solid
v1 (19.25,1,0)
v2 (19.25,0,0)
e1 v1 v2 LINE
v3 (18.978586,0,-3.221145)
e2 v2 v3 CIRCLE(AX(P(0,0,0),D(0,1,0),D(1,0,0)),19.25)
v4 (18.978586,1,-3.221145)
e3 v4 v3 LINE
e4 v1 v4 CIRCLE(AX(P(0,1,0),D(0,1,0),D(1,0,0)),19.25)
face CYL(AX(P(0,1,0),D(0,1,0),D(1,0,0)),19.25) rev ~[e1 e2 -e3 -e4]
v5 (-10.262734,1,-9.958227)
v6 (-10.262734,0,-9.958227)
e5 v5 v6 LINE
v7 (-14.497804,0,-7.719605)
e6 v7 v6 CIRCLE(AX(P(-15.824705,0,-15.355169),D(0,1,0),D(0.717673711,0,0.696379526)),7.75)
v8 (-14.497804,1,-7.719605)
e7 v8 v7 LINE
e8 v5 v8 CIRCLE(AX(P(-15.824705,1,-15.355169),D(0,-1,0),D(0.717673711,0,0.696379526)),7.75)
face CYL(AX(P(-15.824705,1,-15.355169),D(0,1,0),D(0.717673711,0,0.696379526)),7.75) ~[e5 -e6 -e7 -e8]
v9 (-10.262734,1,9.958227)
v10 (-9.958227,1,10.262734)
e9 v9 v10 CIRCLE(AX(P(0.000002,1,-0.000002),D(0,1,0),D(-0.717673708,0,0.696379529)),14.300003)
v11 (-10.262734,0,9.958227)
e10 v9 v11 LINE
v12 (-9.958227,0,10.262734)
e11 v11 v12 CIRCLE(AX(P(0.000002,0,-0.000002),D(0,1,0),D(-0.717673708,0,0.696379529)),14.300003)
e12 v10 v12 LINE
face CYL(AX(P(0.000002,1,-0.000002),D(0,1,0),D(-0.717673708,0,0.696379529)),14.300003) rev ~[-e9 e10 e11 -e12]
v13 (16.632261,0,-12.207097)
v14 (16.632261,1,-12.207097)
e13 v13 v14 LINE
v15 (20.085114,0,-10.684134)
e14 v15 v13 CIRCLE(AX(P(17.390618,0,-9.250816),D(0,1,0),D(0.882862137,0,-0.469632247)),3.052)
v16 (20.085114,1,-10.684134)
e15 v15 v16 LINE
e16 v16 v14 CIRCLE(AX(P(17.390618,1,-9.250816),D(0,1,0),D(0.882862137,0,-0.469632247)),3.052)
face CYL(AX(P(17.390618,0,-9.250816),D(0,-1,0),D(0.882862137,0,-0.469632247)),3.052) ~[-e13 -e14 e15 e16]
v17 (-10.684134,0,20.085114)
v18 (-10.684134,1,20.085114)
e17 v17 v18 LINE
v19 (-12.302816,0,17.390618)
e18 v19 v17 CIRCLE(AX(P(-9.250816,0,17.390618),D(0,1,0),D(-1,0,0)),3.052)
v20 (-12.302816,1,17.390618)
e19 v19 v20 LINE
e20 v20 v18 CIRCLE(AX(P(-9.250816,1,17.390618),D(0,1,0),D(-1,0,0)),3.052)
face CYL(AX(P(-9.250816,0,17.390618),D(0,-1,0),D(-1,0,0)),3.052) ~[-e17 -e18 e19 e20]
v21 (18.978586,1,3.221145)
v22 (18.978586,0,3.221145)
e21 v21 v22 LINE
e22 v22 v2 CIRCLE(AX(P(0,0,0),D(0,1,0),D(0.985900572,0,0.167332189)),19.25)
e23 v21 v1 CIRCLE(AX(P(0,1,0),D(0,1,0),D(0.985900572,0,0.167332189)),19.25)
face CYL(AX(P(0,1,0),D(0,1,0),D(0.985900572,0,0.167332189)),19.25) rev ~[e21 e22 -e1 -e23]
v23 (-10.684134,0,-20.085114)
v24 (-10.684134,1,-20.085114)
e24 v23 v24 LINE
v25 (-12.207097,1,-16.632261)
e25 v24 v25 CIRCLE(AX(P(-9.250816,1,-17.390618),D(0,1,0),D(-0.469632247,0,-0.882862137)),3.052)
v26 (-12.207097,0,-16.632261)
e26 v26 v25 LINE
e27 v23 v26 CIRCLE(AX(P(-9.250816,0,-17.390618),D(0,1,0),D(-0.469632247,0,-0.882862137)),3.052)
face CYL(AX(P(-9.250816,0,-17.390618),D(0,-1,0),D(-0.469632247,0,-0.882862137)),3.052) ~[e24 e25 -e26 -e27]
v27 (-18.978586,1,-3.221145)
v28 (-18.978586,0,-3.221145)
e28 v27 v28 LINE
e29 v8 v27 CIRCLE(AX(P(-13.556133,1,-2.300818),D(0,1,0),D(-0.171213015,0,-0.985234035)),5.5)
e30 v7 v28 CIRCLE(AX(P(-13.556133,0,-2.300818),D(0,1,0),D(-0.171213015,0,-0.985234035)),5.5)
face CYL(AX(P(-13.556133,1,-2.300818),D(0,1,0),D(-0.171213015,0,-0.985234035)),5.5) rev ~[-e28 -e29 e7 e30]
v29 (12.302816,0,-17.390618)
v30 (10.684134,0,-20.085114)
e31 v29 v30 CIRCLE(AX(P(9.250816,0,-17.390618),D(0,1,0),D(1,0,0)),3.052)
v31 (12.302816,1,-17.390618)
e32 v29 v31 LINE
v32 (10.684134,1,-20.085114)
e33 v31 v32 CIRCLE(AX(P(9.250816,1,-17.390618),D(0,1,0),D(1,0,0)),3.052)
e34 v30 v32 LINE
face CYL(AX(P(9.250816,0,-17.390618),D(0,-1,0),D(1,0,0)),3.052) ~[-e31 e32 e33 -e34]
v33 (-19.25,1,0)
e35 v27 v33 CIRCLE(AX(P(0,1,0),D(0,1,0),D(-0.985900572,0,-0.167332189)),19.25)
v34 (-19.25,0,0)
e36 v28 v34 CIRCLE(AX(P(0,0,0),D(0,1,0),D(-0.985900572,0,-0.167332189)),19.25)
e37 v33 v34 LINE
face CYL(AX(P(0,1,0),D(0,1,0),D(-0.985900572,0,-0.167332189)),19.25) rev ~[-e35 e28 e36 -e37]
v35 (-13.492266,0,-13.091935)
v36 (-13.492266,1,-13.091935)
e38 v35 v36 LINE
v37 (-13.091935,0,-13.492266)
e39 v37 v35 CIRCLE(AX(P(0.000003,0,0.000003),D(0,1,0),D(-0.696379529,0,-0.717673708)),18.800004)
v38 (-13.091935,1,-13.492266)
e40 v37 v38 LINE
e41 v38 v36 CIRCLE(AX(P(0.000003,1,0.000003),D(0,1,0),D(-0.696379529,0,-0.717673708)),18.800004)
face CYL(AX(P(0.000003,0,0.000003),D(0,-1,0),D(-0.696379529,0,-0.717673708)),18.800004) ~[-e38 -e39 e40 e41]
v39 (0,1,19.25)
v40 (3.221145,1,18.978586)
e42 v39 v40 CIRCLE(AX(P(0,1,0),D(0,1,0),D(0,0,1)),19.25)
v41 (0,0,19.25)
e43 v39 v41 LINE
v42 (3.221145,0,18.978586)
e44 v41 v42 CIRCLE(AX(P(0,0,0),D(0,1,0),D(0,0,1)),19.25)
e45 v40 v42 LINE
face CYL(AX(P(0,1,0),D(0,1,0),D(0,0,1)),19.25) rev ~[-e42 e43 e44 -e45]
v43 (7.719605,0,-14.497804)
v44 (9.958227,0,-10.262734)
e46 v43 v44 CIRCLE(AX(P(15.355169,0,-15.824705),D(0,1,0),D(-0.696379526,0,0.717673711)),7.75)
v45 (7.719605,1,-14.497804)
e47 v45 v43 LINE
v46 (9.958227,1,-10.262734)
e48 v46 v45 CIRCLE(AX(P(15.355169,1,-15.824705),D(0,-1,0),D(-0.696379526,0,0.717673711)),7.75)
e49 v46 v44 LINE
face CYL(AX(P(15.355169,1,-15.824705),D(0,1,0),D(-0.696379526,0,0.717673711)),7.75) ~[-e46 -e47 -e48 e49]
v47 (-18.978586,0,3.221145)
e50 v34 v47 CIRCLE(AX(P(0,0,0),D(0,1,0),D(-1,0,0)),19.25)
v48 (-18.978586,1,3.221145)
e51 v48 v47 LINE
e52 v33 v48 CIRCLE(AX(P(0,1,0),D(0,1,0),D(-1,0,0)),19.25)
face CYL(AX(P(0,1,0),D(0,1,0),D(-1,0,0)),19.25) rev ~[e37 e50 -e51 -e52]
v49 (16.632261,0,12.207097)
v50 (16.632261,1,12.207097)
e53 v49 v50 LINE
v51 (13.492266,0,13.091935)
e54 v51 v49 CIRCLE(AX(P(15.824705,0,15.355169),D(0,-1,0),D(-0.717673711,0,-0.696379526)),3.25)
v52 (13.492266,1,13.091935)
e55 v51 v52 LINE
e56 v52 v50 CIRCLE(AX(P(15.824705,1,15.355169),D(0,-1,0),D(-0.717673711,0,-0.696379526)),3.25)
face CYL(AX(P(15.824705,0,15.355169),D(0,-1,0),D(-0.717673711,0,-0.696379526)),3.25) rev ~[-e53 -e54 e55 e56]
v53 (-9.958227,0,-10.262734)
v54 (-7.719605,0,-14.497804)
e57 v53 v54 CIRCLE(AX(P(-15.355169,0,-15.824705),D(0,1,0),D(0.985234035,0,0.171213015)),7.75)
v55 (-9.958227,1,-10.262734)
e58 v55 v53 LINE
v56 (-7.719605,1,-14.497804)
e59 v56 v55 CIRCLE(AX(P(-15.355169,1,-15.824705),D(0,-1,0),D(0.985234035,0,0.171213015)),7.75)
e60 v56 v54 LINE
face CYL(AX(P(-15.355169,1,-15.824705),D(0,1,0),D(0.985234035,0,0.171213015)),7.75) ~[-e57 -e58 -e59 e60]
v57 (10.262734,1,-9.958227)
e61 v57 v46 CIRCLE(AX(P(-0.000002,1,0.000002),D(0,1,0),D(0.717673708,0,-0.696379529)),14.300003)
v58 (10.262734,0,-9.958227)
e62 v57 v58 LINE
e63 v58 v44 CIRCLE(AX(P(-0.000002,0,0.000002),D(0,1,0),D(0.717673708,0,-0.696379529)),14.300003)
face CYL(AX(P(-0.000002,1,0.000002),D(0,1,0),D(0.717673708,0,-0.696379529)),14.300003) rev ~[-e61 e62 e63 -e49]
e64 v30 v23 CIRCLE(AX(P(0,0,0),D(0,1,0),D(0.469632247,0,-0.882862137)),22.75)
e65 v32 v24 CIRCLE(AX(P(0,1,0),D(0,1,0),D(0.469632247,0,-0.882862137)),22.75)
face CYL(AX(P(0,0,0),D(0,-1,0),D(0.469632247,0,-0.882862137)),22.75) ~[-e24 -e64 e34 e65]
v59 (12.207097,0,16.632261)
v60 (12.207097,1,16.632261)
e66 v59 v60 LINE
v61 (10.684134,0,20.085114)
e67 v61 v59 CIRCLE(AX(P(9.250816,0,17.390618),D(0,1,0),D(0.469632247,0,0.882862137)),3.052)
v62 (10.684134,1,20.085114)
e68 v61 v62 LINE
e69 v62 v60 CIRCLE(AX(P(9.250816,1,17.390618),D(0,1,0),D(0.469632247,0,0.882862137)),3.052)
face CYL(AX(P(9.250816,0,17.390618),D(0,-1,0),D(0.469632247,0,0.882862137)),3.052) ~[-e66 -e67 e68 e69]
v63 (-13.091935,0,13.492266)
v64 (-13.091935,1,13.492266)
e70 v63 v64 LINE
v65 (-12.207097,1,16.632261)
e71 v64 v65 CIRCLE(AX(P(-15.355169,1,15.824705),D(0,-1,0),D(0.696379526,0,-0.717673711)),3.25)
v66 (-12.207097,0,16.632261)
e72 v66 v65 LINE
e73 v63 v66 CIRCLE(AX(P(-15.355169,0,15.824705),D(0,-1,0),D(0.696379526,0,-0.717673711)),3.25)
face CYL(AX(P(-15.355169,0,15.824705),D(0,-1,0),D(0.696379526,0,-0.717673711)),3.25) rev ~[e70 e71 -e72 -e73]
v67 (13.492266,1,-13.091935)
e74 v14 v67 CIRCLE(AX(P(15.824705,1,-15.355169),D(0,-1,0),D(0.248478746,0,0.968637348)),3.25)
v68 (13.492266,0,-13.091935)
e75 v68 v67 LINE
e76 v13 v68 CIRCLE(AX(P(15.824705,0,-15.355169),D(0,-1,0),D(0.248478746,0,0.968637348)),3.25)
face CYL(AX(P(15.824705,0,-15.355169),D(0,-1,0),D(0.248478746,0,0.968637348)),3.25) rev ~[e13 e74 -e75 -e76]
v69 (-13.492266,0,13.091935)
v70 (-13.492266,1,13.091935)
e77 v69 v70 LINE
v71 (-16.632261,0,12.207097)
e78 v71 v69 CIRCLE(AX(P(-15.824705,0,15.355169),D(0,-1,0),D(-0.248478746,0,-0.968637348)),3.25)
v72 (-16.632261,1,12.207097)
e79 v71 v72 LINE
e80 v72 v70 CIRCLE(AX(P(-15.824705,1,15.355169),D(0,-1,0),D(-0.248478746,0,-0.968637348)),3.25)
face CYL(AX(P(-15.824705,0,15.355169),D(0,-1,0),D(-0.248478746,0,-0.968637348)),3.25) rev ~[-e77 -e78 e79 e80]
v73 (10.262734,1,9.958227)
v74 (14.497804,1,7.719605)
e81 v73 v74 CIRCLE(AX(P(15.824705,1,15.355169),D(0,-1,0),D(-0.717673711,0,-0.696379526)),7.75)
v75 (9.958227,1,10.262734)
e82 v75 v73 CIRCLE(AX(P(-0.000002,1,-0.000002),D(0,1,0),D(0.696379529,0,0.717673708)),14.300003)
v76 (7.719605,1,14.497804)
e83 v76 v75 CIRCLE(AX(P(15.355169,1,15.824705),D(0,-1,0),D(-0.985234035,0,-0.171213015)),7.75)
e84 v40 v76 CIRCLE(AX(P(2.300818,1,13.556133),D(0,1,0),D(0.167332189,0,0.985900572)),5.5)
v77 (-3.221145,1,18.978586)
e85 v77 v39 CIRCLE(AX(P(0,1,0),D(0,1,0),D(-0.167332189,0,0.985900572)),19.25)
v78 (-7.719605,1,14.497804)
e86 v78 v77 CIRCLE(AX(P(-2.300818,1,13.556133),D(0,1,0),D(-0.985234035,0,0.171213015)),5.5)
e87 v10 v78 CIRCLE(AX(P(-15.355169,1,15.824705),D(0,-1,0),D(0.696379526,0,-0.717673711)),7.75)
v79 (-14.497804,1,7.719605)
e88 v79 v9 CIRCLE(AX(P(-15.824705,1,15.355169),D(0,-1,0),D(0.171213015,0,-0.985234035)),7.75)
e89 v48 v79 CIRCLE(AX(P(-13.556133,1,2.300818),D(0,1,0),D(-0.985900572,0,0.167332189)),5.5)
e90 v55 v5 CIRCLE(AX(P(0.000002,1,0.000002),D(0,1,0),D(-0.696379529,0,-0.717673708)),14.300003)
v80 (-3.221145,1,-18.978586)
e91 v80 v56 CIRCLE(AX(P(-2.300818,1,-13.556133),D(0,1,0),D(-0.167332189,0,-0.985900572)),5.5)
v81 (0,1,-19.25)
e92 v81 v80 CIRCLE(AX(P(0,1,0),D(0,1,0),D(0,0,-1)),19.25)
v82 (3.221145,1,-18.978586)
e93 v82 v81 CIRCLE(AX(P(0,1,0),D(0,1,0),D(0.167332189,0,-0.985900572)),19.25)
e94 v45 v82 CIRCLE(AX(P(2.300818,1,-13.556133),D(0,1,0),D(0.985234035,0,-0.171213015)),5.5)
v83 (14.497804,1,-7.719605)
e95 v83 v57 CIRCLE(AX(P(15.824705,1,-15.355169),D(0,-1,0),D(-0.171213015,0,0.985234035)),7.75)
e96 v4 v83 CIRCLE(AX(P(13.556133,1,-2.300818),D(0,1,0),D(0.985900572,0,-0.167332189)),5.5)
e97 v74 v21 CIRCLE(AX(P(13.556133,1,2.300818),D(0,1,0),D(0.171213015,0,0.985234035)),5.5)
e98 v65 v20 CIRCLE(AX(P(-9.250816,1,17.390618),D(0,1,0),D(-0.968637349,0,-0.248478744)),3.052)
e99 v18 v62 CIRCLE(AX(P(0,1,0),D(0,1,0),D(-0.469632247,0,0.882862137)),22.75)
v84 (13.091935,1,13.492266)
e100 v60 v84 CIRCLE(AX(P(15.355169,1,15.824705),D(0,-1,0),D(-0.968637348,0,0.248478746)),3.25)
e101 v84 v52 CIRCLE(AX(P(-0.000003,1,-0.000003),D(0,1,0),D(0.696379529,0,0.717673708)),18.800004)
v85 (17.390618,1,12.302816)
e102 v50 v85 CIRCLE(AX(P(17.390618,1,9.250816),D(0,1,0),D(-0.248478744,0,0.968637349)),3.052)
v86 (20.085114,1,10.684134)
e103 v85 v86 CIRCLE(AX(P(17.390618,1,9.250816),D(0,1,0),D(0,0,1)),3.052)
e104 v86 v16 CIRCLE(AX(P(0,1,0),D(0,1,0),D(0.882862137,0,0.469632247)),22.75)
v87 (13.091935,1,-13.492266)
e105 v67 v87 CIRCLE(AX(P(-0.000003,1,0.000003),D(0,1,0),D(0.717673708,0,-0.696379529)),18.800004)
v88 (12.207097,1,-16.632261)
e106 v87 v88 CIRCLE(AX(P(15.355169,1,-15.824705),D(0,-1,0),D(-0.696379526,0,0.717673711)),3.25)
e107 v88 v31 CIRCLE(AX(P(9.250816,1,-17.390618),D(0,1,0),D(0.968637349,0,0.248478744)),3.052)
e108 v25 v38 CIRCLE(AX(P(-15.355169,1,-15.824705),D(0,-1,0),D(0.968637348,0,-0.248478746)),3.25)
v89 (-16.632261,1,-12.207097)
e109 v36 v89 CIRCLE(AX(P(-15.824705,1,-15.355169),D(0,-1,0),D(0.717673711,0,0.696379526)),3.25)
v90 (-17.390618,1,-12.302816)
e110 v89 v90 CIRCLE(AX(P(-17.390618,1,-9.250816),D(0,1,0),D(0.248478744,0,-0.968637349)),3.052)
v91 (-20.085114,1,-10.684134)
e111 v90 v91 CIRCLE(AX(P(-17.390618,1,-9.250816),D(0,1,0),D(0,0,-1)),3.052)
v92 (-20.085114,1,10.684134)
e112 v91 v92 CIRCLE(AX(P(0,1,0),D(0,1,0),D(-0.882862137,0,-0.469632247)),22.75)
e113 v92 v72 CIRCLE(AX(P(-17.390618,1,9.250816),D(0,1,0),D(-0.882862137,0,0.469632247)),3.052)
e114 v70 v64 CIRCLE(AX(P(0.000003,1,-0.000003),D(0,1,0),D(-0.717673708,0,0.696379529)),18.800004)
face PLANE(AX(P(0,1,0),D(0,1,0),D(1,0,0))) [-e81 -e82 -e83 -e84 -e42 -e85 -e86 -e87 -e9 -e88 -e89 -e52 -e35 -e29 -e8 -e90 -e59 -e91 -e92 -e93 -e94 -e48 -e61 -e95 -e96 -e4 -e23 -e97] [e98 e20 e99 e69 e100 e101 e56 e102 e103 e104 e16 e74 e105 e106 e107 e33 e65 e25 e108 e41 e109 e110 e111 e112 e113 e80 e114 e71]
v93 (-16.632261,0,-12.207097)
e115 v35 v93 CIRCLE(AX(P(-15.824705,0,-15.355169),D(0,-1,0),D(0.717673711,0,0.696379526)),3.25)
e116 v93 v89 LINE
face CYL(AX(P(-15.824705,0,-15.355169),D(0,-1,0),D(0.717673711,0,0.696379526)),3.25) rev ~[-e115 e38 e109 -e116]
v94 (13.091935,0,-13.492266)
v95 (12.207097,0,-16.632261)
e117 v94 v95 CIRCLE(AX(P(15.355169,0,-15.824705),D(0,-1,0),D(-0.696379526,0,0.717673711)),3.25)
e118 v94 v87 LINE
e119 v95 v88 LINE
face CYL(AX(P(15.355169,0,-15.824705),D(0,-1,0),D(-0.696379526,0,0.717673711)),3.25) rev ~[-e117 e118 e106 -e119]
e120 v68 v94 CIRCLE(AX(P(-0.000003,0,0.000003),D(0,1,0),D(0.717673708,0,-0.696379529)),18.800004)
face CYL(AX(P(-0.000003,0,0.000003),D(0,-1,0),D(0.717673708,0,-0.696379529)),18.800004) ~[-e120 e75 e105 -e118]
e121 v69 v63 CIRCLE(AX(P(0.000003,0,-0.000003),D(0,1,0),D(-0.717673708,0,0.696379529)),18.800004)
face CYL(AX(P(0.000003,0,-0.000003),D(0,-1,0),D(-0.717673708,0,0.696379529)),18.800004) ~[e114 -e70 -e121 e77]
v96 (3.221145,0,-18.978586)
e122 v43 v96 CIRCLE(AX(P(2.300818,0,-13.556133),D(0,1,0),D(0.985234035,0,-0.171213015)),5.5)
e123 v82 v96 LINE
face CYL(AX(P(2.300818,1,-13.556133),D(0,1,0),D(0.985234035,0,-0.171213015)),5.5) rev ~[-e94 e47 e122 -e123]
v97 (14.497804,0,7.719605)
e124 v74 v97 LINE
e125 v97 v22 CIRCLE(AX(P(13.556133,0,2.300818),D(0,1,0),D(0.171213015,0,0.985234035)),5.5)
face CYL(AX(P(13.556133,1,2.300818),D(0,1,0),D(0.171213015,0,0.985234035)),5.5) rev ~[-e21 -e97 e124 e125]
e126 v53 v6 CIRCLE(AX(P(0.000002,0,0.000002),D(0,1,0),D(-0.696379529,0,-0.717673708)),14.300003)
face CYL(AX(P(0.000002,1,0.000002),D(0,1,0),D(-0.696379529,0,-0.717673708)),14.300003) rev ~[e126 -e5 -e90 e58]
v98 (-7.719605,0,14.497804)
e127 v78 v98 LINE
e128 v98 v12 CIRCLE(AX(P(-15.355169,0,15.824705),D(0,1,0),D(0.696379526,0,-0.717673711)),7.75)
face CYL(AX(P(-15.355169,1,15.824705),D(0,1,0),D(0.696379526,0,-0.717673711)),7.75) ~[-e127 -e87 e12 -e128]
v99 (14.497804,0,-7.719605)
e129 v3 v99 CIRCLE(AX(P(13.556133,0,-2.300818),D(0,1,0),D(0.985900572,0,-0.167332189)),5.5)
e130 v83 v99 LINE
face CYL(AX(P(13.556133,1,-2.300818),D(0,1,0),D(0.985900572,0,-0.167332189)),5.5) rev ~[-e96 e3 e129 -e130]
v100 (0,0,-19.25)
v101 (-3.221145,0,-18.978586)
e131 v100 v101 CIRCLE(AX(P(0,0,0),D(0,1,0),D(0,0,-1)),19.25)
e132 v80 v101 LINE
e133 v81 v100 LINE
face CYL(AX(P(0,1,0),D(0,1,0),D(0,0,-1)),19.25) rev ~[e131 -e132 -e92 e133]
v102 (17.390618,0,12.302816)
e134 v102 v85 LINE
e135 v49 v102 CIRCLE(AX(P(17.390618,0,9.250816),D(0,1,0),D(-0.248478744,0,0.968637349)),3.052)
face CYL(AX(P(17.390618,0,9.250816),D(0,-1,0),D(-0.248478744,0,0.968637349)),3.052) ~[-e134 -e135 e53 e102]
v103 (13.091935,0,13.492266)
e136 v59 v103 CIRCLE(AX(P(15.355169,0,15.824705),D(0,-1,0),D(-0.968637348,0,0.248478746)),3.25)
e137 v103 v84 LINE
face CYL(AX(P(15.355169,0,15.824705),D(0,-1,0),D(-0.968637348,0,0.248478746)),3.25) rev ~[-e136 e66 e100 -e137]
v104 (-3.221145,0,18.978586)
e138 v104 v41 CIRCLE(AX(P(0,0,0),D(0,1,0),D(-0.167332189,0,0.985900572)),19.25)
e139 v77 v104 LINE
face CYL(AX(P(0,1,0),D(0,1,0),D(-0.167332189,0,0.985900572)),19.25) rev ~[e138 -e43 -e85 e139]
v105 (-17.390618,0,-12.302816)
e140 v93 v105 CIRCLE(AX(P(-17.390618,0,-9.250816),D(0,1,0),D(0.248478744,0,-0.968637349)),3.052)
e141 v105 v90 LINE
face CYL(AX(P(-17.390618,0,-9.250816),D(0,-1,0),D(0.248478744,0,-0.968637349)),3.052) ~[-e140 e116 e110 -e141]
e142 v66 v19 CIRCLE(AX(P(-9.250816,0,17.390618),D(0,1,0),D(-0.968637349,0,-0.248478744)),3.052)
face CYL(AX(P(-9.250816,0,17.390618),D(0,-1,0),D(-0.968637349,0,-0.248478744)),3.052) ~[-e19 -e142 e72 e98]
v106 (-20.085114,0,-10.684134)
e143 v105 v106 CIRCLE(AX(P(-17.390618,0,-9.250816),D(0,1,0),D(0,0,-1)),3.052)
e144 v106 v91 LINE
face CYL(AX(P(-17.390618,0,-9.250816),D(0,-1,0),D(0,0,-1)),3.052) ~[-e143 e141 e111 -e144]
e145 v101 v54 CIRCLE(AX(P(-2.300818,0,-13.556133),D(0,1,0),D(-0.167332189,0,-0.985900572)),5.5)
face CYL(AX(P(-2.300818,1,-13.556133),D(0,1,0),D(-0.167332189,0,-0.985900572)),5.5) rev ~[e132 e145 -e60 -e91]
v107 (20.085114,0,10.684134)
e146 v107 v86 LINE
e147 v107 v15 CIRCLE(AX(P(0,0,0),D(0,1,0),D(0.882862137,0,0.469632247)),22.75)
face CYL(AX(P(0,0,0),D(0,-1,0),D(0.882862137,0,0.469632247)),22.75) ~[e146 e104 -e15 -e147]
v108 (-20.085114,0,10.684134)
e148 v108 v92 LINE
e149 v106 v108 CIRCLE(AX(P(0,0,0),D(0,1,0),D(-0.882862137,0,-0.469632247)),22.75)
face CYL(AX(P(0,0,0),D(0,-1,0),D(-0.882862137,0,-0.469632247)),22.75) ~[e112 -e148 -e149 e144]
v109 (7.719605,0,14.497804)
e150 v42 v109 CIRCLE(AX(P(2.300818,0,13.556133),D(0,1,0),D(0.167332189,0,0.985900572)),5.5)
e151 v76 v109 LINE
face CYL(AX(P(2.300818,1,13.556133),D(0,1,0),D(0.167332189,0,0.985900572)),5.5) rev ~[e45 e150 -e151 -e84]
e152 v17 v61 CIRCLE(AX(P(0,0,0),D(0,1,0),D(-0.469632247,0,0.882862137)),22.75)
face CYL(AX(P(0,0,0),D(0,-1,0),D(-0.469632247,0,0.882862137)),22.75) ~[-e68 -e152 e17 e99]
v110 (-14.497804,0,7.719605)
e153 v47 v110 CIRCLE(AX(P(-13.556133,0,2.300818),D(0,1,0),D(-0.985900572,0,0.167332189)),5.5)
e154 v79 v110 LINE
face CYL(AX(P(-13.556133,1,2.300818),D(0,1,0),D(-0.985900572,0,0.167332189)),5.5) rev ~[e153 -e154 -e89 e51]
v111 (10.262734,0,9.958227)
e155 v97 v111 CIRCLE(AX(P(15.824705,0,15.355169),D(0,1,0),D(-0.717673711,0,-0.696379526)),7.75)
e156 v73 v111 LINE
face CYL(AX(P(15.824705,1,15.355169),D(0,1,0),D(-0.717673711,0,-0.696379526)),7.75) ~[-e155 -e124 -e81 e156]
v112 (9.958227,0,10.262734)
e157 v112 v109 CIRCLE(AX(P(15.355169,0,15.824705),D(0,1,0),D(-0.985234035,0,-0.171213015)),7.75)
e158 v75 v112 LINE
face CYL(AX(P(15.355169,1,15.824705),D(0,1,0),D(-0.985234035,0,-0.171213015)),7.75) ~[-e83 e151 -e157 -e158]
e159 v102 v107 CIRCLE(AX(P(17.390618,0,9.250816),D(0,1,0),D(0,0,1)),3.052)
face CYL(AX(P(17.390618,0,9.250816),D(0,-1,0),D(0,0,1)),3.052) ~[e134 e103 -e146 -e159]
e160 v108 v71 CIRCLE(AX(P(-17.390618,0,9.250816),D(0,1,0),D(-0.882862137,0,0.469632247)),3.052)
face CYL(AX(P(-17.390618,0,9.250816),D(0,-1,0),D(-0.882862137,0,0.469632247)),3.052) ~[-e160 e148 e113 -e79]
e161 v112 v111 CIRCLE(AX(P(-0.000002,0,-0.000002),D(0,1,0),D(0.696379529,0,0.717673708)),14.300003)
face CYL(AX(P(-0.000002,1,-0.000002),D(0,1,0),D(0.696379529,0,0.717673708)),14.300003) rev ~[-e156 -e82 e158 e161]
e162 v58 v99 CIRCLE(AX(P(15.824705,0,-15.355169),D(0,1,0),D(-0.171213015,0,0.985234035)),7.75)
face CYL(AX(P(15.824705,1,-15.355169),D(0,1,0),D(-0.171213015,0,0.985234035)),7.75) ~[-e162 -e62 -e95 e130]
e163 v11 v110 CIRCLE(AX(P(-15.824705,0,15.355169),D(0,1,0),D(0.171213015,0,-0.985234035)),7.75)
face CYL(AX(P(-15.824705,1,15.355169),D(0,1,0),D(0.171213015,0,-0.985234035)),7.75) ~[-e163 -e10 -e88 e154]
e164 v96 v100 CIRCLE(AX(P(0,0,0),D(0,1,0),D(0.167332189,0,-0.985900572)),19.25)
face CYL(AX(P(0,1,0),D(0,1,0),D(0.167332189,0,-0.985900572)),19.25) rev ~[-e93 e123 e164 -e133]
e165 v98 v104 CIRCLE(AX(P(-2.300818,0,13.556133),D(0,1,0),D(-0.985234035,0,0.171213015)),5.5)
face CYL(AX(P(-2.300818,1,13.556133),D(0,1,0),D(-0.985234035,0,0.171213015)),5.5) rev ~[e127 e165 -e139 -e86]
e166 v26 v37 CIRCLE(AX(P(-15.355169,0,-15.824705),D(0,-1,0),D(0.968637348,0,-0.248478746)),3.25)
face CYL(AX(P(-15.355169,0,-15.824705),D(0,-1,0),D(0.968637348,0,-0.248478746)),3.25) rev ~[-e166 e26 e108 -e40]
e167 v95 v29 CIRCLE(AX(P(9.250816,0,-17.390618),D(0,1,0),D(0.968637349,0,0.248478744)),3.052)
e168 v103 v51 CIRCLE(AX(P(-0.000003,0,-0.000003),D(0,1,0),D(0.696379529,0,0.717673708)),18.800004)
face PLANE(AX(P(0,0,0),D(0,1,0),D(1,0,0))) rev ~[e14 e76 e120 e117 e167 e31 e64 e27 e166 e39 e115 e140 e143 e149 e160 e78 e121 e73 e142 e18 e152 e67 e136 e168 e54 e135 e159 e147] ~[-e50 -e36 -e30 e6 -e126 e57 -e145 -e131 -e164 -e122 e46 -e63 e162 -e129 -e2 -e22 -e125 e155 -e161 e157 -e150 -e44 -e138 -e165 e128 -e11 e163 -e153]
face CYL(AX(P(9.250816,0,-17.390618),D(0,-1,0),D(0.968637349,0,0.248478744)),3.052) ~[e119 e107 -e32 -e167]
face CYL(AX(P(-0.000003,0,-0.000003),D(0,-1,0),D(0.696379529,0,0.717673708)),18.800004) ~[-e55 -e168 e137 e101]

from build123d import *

# Parameters (mm, degrees)
PCB_OUTLINE_OUTER_DEPTH = 1
CUT_EXTRUDE2_DEPTH      = 1
CUT_EXTRUDE2_DEPTH_BACK = 2


with BuildPart() as part:
    # Internal Slab → PCB Outline Outer (new body)
    with BuildSketch(Plane(origin=(0, 0, 0), x_dir=(1, 0, 0), z_dir=(0, 1, 0))):
        with BuildLine():
            ThreePointArc((20.085113617, 10.68413361), (18.622288868, 12.043250737), (16.632261242, 12.207097181))
            ThreePointArc((16.632261242, 12.207097181), (14.943199752, 12.226998501), (13.492265758, 13.091935102))
            ThreePointArc((13.492265758, 13.091935102), (13.293607486, 13.293607486), (13.091935102, 13.492265758))
            ThreePointArc((13.091935102, 13.492265758), (12.226998501, 14.943199752), (12.207097181, 16.632261242))
            ThreePointArc((12.207097181, 16.632261242), (12.278791735, 17.008431368), (12.302815994, 17.390618375))
            ThreePointArc((12.302815994, 17.390618375), (11.867033623, 18.962276517), (10.68413361, 20.085113617))
            ThreePointArc((10.68413361, 20.085113617), (0, 22.75), (-10.68413361, 20.085113617))
            ThreePointArc((-10.68413361, 20.085113617), (-12.043250737, 18.622288868), (-12.207097181, 16.632261242))
            ThreePointArc((-12.207097181, 16.632261242), (-12.226998501, 14.943199752), (-13.091935102, 13.492265758))
            ThreePointArc((-13.091935102, 13.492265758), (-13.293607486, 13.293607486), (-13.492265758, 13.091935102))
            ThreePointArc((-13.492265758, 13.091935102), (-14.943199752, 12.226998501), (-16.632261242, 12.207097181))
            ThreePointArc((-16.632261242, 12.207097181), (-17.008431368, 12.278791735), (-17.390618375, 12.302815994))
            ThreePointArc((-17.390618375, 12.302815994), (-18.962276517, 11.867033623), (-20.085113617, 10.68413361))
            ThreePointArc((-20.085113617, 10.68413361), (-22.75, 0), (-20.085113617, -10.68413361))
            ThreePointArc((-20.085113617, -10.68413361), (-18.622288868, -12.043250737), (-16.632261242, -12.207097181))
            ThreePointArc((-16.632261242, -12.207097181), (-14.943199752, -12.226998501), (-13.492265758, -13.091935102))
            ThreePointArc((-13.492265758, -13.091935102), (-13.293607486, -13.293607486), (-13.091935102, -13.492265758))
            ThreePointArc((-13.091935102, -13.492265758), (-12.226998501, -14.943199752), (-12.207097181, -16.632261242))
            ThreePointArc((-12.207097181, -16.632261242), (-12.278791735, -17.008431368), (-12.302815994, -17.390618375))
            ThreePointArc((-12.302815994, -17.390618375), (-11.867033623, -18.962276517), (-10.68413361, -20.085113617))
            ThreePointArc((-10.68413361, -20.085113617), (0, -22.75), (10.68413361, -20.085113617))
            ThreePointArc((10.68413361, -20.085113617), (12.043250737, -18.622288868), (12.207097181, -16.632261242))
            ThreePointArc((12.207097181, -16.632261242), (12.226998501, -14.943199752), (13.091935102, -13.492265758))
            ThreePointArc((13.091935102, -13.492265758), (13.293607486, -13.293607486), (13.492265758, -13.091935102))
            ThreePointArc((13.492265758, -13.091935102), (14.943199752, -12.226998501), (16.632261242, -12.207097181))
            ThreePointArc((16.632261242, -12.207097181), (17.008431368, -12.278791735), (17.390618375, -12.302815994))
            ThreePointArc((17.390618375, -12.302815994), (18.962276517, -11.867033623), (20.085113617, -10.68413361))
            ThreePointArc((20.085113617, -10.68413361), (22.75, 0), (20.085113617, 10.68413361))
        make_face()
    extrude(amount=PCB_OUTLINE_OUTER_DEPTH)

    # Sketch7 → Cut-Extrude2 (cut, two sides)
    with BuildSketch(Plane(origin=(0, 1, 0), x_dir=(1, 0, 0), z_dir=(0, 1, 0))) as cut_extrude2_sk:
        with BuildLine():
            ThreePointArc((0, 19.25), (-1.616279551, 19.182026494), (-3.221144642, 18.978586017))
            ThreePointArc((-3.221144642, 18.978586017), (-6.18224043, 17.452869559), (-7.719604793, 14.497804451))
            ThreePointArc((-7.719604793, 14.497804451), (-8.503489746, 12.202965765), (-9.958227232, 10.262734061))
            ThreePointArc((-9.958227232, 10.262734061), (-10.111626971, 10.111626971), (-10.262734061, 9.958227232))
            ThreePointArc((-10.262734061, 9.958227232), (-12.202965765, 8.503489746), (-14.497804451, 7.719604793))
            ThreePointArc((-14.497804451, 7.719604793), (-17.452869559, 6.18224043), (-18.978586017, 3.221144642))
            ThreePointArc((-18.978586017, 3.221144642), (-19.182026494, 1.616279551), (-19.25, 0))
            ThreePointArc((-19.25, 0), (-19.182026494, -1.616279551), (-18.978586017, -3.221144642))
            ThreePointArc((-18.978586017, -3.221144642), (-17.452869559, -6.18224043), (-14.497804451, -7.719604793))
            ThreePointArc((-14.497804451, -7.719604793), (-12.202965765, -8.503489746), (-10.262734061, -9.958227232))
            ThreePointArc((-10.262734061, -9.958227232), (-10.111626971, -10.111626971), (-9.958227232, -10.262734061))
            ThreePointArc((-9.958227232, -10.262734061), (-8.503489746, -12.202965765), (-7.719604793, -14.497804451))
            ThreePointArc((-7.719604793, -14.497804451), (-6.18224043, -17.452869559), (-3.221144642, -18.978586017))
            ThreePointArc((-3.221144642, -18.978586017), (-1.616279551, -19.182026494), (0, -19.25))
            ThreePointArc((0, -19.25), (1.616279551, -19.182026494), (3.221144642, -18.978586017))
            ThreePointArc((3.221144642, -18.978586017), (6.18224043, -17.452869559), (7.719604793, -14.497804451))
            ThreePointArc((7.719604793, -14.497804451), (8.503489746, -12.202965765), (9.958227232, -10.262734061))
            ThreePointArc((9.958227232, -10.262734061), (10.111626971, -10.111626971), (10.262734061, -9.958227232))
            ThreePointArc((10.262734061, -9.958227232), (12.202965765, -8.503489746), (14.497804451, -7.719604793))
            ThreePointArc((14.497804451, -7.719604793), (17.452869559, -6.18224043), (18.978586017, -3.221144642))
            ThreePointArc((18.978586017, -3.221144642), (19.182026494, -1.616279551), (19.25, 0))
            ThreePointArc((19.25, 0), (19.182026494, 1.616279551), (18.978586017, 3.221144642))
            ThreePointArc((18.978586017, 3.221144642), (17.452869559, 6.18224043), (14.497804451, 7.719604793))
            ThreePointArc((14.497804451, 7.719604793), (12.202965765, 8.503489746), (10.262734061, 9.958227232))
            ThreePointArc((10.262734061, 9.958227232), (10.111626971, 10.111626971), (9.958227232, 10.262734061))
            ThreePointArc((9.958227232, 10.262734061), (8.503489746, 12.202965765), (7.719604793, 14.497804451))
            ThreePointArc((7.719604793, 14.497804451), (6.18224043, 17.452869559), (3.221144642, 18.978586017))
            ThreePointArc((3.221144642, 18.978586017), (1.616279551, 19.182026494), (0, 19.25))
        make_face()
    extrude(amount=CUT_EXTRUDE2_DEPTH, mode=Mode.SUBTRACT)
    extrude(cut_extrude2_sk.sketch, amount=-CUT_EXTRUDE2_DEPTH_BACK, mode=Mode.SUBTRACT)


solid = part.part
